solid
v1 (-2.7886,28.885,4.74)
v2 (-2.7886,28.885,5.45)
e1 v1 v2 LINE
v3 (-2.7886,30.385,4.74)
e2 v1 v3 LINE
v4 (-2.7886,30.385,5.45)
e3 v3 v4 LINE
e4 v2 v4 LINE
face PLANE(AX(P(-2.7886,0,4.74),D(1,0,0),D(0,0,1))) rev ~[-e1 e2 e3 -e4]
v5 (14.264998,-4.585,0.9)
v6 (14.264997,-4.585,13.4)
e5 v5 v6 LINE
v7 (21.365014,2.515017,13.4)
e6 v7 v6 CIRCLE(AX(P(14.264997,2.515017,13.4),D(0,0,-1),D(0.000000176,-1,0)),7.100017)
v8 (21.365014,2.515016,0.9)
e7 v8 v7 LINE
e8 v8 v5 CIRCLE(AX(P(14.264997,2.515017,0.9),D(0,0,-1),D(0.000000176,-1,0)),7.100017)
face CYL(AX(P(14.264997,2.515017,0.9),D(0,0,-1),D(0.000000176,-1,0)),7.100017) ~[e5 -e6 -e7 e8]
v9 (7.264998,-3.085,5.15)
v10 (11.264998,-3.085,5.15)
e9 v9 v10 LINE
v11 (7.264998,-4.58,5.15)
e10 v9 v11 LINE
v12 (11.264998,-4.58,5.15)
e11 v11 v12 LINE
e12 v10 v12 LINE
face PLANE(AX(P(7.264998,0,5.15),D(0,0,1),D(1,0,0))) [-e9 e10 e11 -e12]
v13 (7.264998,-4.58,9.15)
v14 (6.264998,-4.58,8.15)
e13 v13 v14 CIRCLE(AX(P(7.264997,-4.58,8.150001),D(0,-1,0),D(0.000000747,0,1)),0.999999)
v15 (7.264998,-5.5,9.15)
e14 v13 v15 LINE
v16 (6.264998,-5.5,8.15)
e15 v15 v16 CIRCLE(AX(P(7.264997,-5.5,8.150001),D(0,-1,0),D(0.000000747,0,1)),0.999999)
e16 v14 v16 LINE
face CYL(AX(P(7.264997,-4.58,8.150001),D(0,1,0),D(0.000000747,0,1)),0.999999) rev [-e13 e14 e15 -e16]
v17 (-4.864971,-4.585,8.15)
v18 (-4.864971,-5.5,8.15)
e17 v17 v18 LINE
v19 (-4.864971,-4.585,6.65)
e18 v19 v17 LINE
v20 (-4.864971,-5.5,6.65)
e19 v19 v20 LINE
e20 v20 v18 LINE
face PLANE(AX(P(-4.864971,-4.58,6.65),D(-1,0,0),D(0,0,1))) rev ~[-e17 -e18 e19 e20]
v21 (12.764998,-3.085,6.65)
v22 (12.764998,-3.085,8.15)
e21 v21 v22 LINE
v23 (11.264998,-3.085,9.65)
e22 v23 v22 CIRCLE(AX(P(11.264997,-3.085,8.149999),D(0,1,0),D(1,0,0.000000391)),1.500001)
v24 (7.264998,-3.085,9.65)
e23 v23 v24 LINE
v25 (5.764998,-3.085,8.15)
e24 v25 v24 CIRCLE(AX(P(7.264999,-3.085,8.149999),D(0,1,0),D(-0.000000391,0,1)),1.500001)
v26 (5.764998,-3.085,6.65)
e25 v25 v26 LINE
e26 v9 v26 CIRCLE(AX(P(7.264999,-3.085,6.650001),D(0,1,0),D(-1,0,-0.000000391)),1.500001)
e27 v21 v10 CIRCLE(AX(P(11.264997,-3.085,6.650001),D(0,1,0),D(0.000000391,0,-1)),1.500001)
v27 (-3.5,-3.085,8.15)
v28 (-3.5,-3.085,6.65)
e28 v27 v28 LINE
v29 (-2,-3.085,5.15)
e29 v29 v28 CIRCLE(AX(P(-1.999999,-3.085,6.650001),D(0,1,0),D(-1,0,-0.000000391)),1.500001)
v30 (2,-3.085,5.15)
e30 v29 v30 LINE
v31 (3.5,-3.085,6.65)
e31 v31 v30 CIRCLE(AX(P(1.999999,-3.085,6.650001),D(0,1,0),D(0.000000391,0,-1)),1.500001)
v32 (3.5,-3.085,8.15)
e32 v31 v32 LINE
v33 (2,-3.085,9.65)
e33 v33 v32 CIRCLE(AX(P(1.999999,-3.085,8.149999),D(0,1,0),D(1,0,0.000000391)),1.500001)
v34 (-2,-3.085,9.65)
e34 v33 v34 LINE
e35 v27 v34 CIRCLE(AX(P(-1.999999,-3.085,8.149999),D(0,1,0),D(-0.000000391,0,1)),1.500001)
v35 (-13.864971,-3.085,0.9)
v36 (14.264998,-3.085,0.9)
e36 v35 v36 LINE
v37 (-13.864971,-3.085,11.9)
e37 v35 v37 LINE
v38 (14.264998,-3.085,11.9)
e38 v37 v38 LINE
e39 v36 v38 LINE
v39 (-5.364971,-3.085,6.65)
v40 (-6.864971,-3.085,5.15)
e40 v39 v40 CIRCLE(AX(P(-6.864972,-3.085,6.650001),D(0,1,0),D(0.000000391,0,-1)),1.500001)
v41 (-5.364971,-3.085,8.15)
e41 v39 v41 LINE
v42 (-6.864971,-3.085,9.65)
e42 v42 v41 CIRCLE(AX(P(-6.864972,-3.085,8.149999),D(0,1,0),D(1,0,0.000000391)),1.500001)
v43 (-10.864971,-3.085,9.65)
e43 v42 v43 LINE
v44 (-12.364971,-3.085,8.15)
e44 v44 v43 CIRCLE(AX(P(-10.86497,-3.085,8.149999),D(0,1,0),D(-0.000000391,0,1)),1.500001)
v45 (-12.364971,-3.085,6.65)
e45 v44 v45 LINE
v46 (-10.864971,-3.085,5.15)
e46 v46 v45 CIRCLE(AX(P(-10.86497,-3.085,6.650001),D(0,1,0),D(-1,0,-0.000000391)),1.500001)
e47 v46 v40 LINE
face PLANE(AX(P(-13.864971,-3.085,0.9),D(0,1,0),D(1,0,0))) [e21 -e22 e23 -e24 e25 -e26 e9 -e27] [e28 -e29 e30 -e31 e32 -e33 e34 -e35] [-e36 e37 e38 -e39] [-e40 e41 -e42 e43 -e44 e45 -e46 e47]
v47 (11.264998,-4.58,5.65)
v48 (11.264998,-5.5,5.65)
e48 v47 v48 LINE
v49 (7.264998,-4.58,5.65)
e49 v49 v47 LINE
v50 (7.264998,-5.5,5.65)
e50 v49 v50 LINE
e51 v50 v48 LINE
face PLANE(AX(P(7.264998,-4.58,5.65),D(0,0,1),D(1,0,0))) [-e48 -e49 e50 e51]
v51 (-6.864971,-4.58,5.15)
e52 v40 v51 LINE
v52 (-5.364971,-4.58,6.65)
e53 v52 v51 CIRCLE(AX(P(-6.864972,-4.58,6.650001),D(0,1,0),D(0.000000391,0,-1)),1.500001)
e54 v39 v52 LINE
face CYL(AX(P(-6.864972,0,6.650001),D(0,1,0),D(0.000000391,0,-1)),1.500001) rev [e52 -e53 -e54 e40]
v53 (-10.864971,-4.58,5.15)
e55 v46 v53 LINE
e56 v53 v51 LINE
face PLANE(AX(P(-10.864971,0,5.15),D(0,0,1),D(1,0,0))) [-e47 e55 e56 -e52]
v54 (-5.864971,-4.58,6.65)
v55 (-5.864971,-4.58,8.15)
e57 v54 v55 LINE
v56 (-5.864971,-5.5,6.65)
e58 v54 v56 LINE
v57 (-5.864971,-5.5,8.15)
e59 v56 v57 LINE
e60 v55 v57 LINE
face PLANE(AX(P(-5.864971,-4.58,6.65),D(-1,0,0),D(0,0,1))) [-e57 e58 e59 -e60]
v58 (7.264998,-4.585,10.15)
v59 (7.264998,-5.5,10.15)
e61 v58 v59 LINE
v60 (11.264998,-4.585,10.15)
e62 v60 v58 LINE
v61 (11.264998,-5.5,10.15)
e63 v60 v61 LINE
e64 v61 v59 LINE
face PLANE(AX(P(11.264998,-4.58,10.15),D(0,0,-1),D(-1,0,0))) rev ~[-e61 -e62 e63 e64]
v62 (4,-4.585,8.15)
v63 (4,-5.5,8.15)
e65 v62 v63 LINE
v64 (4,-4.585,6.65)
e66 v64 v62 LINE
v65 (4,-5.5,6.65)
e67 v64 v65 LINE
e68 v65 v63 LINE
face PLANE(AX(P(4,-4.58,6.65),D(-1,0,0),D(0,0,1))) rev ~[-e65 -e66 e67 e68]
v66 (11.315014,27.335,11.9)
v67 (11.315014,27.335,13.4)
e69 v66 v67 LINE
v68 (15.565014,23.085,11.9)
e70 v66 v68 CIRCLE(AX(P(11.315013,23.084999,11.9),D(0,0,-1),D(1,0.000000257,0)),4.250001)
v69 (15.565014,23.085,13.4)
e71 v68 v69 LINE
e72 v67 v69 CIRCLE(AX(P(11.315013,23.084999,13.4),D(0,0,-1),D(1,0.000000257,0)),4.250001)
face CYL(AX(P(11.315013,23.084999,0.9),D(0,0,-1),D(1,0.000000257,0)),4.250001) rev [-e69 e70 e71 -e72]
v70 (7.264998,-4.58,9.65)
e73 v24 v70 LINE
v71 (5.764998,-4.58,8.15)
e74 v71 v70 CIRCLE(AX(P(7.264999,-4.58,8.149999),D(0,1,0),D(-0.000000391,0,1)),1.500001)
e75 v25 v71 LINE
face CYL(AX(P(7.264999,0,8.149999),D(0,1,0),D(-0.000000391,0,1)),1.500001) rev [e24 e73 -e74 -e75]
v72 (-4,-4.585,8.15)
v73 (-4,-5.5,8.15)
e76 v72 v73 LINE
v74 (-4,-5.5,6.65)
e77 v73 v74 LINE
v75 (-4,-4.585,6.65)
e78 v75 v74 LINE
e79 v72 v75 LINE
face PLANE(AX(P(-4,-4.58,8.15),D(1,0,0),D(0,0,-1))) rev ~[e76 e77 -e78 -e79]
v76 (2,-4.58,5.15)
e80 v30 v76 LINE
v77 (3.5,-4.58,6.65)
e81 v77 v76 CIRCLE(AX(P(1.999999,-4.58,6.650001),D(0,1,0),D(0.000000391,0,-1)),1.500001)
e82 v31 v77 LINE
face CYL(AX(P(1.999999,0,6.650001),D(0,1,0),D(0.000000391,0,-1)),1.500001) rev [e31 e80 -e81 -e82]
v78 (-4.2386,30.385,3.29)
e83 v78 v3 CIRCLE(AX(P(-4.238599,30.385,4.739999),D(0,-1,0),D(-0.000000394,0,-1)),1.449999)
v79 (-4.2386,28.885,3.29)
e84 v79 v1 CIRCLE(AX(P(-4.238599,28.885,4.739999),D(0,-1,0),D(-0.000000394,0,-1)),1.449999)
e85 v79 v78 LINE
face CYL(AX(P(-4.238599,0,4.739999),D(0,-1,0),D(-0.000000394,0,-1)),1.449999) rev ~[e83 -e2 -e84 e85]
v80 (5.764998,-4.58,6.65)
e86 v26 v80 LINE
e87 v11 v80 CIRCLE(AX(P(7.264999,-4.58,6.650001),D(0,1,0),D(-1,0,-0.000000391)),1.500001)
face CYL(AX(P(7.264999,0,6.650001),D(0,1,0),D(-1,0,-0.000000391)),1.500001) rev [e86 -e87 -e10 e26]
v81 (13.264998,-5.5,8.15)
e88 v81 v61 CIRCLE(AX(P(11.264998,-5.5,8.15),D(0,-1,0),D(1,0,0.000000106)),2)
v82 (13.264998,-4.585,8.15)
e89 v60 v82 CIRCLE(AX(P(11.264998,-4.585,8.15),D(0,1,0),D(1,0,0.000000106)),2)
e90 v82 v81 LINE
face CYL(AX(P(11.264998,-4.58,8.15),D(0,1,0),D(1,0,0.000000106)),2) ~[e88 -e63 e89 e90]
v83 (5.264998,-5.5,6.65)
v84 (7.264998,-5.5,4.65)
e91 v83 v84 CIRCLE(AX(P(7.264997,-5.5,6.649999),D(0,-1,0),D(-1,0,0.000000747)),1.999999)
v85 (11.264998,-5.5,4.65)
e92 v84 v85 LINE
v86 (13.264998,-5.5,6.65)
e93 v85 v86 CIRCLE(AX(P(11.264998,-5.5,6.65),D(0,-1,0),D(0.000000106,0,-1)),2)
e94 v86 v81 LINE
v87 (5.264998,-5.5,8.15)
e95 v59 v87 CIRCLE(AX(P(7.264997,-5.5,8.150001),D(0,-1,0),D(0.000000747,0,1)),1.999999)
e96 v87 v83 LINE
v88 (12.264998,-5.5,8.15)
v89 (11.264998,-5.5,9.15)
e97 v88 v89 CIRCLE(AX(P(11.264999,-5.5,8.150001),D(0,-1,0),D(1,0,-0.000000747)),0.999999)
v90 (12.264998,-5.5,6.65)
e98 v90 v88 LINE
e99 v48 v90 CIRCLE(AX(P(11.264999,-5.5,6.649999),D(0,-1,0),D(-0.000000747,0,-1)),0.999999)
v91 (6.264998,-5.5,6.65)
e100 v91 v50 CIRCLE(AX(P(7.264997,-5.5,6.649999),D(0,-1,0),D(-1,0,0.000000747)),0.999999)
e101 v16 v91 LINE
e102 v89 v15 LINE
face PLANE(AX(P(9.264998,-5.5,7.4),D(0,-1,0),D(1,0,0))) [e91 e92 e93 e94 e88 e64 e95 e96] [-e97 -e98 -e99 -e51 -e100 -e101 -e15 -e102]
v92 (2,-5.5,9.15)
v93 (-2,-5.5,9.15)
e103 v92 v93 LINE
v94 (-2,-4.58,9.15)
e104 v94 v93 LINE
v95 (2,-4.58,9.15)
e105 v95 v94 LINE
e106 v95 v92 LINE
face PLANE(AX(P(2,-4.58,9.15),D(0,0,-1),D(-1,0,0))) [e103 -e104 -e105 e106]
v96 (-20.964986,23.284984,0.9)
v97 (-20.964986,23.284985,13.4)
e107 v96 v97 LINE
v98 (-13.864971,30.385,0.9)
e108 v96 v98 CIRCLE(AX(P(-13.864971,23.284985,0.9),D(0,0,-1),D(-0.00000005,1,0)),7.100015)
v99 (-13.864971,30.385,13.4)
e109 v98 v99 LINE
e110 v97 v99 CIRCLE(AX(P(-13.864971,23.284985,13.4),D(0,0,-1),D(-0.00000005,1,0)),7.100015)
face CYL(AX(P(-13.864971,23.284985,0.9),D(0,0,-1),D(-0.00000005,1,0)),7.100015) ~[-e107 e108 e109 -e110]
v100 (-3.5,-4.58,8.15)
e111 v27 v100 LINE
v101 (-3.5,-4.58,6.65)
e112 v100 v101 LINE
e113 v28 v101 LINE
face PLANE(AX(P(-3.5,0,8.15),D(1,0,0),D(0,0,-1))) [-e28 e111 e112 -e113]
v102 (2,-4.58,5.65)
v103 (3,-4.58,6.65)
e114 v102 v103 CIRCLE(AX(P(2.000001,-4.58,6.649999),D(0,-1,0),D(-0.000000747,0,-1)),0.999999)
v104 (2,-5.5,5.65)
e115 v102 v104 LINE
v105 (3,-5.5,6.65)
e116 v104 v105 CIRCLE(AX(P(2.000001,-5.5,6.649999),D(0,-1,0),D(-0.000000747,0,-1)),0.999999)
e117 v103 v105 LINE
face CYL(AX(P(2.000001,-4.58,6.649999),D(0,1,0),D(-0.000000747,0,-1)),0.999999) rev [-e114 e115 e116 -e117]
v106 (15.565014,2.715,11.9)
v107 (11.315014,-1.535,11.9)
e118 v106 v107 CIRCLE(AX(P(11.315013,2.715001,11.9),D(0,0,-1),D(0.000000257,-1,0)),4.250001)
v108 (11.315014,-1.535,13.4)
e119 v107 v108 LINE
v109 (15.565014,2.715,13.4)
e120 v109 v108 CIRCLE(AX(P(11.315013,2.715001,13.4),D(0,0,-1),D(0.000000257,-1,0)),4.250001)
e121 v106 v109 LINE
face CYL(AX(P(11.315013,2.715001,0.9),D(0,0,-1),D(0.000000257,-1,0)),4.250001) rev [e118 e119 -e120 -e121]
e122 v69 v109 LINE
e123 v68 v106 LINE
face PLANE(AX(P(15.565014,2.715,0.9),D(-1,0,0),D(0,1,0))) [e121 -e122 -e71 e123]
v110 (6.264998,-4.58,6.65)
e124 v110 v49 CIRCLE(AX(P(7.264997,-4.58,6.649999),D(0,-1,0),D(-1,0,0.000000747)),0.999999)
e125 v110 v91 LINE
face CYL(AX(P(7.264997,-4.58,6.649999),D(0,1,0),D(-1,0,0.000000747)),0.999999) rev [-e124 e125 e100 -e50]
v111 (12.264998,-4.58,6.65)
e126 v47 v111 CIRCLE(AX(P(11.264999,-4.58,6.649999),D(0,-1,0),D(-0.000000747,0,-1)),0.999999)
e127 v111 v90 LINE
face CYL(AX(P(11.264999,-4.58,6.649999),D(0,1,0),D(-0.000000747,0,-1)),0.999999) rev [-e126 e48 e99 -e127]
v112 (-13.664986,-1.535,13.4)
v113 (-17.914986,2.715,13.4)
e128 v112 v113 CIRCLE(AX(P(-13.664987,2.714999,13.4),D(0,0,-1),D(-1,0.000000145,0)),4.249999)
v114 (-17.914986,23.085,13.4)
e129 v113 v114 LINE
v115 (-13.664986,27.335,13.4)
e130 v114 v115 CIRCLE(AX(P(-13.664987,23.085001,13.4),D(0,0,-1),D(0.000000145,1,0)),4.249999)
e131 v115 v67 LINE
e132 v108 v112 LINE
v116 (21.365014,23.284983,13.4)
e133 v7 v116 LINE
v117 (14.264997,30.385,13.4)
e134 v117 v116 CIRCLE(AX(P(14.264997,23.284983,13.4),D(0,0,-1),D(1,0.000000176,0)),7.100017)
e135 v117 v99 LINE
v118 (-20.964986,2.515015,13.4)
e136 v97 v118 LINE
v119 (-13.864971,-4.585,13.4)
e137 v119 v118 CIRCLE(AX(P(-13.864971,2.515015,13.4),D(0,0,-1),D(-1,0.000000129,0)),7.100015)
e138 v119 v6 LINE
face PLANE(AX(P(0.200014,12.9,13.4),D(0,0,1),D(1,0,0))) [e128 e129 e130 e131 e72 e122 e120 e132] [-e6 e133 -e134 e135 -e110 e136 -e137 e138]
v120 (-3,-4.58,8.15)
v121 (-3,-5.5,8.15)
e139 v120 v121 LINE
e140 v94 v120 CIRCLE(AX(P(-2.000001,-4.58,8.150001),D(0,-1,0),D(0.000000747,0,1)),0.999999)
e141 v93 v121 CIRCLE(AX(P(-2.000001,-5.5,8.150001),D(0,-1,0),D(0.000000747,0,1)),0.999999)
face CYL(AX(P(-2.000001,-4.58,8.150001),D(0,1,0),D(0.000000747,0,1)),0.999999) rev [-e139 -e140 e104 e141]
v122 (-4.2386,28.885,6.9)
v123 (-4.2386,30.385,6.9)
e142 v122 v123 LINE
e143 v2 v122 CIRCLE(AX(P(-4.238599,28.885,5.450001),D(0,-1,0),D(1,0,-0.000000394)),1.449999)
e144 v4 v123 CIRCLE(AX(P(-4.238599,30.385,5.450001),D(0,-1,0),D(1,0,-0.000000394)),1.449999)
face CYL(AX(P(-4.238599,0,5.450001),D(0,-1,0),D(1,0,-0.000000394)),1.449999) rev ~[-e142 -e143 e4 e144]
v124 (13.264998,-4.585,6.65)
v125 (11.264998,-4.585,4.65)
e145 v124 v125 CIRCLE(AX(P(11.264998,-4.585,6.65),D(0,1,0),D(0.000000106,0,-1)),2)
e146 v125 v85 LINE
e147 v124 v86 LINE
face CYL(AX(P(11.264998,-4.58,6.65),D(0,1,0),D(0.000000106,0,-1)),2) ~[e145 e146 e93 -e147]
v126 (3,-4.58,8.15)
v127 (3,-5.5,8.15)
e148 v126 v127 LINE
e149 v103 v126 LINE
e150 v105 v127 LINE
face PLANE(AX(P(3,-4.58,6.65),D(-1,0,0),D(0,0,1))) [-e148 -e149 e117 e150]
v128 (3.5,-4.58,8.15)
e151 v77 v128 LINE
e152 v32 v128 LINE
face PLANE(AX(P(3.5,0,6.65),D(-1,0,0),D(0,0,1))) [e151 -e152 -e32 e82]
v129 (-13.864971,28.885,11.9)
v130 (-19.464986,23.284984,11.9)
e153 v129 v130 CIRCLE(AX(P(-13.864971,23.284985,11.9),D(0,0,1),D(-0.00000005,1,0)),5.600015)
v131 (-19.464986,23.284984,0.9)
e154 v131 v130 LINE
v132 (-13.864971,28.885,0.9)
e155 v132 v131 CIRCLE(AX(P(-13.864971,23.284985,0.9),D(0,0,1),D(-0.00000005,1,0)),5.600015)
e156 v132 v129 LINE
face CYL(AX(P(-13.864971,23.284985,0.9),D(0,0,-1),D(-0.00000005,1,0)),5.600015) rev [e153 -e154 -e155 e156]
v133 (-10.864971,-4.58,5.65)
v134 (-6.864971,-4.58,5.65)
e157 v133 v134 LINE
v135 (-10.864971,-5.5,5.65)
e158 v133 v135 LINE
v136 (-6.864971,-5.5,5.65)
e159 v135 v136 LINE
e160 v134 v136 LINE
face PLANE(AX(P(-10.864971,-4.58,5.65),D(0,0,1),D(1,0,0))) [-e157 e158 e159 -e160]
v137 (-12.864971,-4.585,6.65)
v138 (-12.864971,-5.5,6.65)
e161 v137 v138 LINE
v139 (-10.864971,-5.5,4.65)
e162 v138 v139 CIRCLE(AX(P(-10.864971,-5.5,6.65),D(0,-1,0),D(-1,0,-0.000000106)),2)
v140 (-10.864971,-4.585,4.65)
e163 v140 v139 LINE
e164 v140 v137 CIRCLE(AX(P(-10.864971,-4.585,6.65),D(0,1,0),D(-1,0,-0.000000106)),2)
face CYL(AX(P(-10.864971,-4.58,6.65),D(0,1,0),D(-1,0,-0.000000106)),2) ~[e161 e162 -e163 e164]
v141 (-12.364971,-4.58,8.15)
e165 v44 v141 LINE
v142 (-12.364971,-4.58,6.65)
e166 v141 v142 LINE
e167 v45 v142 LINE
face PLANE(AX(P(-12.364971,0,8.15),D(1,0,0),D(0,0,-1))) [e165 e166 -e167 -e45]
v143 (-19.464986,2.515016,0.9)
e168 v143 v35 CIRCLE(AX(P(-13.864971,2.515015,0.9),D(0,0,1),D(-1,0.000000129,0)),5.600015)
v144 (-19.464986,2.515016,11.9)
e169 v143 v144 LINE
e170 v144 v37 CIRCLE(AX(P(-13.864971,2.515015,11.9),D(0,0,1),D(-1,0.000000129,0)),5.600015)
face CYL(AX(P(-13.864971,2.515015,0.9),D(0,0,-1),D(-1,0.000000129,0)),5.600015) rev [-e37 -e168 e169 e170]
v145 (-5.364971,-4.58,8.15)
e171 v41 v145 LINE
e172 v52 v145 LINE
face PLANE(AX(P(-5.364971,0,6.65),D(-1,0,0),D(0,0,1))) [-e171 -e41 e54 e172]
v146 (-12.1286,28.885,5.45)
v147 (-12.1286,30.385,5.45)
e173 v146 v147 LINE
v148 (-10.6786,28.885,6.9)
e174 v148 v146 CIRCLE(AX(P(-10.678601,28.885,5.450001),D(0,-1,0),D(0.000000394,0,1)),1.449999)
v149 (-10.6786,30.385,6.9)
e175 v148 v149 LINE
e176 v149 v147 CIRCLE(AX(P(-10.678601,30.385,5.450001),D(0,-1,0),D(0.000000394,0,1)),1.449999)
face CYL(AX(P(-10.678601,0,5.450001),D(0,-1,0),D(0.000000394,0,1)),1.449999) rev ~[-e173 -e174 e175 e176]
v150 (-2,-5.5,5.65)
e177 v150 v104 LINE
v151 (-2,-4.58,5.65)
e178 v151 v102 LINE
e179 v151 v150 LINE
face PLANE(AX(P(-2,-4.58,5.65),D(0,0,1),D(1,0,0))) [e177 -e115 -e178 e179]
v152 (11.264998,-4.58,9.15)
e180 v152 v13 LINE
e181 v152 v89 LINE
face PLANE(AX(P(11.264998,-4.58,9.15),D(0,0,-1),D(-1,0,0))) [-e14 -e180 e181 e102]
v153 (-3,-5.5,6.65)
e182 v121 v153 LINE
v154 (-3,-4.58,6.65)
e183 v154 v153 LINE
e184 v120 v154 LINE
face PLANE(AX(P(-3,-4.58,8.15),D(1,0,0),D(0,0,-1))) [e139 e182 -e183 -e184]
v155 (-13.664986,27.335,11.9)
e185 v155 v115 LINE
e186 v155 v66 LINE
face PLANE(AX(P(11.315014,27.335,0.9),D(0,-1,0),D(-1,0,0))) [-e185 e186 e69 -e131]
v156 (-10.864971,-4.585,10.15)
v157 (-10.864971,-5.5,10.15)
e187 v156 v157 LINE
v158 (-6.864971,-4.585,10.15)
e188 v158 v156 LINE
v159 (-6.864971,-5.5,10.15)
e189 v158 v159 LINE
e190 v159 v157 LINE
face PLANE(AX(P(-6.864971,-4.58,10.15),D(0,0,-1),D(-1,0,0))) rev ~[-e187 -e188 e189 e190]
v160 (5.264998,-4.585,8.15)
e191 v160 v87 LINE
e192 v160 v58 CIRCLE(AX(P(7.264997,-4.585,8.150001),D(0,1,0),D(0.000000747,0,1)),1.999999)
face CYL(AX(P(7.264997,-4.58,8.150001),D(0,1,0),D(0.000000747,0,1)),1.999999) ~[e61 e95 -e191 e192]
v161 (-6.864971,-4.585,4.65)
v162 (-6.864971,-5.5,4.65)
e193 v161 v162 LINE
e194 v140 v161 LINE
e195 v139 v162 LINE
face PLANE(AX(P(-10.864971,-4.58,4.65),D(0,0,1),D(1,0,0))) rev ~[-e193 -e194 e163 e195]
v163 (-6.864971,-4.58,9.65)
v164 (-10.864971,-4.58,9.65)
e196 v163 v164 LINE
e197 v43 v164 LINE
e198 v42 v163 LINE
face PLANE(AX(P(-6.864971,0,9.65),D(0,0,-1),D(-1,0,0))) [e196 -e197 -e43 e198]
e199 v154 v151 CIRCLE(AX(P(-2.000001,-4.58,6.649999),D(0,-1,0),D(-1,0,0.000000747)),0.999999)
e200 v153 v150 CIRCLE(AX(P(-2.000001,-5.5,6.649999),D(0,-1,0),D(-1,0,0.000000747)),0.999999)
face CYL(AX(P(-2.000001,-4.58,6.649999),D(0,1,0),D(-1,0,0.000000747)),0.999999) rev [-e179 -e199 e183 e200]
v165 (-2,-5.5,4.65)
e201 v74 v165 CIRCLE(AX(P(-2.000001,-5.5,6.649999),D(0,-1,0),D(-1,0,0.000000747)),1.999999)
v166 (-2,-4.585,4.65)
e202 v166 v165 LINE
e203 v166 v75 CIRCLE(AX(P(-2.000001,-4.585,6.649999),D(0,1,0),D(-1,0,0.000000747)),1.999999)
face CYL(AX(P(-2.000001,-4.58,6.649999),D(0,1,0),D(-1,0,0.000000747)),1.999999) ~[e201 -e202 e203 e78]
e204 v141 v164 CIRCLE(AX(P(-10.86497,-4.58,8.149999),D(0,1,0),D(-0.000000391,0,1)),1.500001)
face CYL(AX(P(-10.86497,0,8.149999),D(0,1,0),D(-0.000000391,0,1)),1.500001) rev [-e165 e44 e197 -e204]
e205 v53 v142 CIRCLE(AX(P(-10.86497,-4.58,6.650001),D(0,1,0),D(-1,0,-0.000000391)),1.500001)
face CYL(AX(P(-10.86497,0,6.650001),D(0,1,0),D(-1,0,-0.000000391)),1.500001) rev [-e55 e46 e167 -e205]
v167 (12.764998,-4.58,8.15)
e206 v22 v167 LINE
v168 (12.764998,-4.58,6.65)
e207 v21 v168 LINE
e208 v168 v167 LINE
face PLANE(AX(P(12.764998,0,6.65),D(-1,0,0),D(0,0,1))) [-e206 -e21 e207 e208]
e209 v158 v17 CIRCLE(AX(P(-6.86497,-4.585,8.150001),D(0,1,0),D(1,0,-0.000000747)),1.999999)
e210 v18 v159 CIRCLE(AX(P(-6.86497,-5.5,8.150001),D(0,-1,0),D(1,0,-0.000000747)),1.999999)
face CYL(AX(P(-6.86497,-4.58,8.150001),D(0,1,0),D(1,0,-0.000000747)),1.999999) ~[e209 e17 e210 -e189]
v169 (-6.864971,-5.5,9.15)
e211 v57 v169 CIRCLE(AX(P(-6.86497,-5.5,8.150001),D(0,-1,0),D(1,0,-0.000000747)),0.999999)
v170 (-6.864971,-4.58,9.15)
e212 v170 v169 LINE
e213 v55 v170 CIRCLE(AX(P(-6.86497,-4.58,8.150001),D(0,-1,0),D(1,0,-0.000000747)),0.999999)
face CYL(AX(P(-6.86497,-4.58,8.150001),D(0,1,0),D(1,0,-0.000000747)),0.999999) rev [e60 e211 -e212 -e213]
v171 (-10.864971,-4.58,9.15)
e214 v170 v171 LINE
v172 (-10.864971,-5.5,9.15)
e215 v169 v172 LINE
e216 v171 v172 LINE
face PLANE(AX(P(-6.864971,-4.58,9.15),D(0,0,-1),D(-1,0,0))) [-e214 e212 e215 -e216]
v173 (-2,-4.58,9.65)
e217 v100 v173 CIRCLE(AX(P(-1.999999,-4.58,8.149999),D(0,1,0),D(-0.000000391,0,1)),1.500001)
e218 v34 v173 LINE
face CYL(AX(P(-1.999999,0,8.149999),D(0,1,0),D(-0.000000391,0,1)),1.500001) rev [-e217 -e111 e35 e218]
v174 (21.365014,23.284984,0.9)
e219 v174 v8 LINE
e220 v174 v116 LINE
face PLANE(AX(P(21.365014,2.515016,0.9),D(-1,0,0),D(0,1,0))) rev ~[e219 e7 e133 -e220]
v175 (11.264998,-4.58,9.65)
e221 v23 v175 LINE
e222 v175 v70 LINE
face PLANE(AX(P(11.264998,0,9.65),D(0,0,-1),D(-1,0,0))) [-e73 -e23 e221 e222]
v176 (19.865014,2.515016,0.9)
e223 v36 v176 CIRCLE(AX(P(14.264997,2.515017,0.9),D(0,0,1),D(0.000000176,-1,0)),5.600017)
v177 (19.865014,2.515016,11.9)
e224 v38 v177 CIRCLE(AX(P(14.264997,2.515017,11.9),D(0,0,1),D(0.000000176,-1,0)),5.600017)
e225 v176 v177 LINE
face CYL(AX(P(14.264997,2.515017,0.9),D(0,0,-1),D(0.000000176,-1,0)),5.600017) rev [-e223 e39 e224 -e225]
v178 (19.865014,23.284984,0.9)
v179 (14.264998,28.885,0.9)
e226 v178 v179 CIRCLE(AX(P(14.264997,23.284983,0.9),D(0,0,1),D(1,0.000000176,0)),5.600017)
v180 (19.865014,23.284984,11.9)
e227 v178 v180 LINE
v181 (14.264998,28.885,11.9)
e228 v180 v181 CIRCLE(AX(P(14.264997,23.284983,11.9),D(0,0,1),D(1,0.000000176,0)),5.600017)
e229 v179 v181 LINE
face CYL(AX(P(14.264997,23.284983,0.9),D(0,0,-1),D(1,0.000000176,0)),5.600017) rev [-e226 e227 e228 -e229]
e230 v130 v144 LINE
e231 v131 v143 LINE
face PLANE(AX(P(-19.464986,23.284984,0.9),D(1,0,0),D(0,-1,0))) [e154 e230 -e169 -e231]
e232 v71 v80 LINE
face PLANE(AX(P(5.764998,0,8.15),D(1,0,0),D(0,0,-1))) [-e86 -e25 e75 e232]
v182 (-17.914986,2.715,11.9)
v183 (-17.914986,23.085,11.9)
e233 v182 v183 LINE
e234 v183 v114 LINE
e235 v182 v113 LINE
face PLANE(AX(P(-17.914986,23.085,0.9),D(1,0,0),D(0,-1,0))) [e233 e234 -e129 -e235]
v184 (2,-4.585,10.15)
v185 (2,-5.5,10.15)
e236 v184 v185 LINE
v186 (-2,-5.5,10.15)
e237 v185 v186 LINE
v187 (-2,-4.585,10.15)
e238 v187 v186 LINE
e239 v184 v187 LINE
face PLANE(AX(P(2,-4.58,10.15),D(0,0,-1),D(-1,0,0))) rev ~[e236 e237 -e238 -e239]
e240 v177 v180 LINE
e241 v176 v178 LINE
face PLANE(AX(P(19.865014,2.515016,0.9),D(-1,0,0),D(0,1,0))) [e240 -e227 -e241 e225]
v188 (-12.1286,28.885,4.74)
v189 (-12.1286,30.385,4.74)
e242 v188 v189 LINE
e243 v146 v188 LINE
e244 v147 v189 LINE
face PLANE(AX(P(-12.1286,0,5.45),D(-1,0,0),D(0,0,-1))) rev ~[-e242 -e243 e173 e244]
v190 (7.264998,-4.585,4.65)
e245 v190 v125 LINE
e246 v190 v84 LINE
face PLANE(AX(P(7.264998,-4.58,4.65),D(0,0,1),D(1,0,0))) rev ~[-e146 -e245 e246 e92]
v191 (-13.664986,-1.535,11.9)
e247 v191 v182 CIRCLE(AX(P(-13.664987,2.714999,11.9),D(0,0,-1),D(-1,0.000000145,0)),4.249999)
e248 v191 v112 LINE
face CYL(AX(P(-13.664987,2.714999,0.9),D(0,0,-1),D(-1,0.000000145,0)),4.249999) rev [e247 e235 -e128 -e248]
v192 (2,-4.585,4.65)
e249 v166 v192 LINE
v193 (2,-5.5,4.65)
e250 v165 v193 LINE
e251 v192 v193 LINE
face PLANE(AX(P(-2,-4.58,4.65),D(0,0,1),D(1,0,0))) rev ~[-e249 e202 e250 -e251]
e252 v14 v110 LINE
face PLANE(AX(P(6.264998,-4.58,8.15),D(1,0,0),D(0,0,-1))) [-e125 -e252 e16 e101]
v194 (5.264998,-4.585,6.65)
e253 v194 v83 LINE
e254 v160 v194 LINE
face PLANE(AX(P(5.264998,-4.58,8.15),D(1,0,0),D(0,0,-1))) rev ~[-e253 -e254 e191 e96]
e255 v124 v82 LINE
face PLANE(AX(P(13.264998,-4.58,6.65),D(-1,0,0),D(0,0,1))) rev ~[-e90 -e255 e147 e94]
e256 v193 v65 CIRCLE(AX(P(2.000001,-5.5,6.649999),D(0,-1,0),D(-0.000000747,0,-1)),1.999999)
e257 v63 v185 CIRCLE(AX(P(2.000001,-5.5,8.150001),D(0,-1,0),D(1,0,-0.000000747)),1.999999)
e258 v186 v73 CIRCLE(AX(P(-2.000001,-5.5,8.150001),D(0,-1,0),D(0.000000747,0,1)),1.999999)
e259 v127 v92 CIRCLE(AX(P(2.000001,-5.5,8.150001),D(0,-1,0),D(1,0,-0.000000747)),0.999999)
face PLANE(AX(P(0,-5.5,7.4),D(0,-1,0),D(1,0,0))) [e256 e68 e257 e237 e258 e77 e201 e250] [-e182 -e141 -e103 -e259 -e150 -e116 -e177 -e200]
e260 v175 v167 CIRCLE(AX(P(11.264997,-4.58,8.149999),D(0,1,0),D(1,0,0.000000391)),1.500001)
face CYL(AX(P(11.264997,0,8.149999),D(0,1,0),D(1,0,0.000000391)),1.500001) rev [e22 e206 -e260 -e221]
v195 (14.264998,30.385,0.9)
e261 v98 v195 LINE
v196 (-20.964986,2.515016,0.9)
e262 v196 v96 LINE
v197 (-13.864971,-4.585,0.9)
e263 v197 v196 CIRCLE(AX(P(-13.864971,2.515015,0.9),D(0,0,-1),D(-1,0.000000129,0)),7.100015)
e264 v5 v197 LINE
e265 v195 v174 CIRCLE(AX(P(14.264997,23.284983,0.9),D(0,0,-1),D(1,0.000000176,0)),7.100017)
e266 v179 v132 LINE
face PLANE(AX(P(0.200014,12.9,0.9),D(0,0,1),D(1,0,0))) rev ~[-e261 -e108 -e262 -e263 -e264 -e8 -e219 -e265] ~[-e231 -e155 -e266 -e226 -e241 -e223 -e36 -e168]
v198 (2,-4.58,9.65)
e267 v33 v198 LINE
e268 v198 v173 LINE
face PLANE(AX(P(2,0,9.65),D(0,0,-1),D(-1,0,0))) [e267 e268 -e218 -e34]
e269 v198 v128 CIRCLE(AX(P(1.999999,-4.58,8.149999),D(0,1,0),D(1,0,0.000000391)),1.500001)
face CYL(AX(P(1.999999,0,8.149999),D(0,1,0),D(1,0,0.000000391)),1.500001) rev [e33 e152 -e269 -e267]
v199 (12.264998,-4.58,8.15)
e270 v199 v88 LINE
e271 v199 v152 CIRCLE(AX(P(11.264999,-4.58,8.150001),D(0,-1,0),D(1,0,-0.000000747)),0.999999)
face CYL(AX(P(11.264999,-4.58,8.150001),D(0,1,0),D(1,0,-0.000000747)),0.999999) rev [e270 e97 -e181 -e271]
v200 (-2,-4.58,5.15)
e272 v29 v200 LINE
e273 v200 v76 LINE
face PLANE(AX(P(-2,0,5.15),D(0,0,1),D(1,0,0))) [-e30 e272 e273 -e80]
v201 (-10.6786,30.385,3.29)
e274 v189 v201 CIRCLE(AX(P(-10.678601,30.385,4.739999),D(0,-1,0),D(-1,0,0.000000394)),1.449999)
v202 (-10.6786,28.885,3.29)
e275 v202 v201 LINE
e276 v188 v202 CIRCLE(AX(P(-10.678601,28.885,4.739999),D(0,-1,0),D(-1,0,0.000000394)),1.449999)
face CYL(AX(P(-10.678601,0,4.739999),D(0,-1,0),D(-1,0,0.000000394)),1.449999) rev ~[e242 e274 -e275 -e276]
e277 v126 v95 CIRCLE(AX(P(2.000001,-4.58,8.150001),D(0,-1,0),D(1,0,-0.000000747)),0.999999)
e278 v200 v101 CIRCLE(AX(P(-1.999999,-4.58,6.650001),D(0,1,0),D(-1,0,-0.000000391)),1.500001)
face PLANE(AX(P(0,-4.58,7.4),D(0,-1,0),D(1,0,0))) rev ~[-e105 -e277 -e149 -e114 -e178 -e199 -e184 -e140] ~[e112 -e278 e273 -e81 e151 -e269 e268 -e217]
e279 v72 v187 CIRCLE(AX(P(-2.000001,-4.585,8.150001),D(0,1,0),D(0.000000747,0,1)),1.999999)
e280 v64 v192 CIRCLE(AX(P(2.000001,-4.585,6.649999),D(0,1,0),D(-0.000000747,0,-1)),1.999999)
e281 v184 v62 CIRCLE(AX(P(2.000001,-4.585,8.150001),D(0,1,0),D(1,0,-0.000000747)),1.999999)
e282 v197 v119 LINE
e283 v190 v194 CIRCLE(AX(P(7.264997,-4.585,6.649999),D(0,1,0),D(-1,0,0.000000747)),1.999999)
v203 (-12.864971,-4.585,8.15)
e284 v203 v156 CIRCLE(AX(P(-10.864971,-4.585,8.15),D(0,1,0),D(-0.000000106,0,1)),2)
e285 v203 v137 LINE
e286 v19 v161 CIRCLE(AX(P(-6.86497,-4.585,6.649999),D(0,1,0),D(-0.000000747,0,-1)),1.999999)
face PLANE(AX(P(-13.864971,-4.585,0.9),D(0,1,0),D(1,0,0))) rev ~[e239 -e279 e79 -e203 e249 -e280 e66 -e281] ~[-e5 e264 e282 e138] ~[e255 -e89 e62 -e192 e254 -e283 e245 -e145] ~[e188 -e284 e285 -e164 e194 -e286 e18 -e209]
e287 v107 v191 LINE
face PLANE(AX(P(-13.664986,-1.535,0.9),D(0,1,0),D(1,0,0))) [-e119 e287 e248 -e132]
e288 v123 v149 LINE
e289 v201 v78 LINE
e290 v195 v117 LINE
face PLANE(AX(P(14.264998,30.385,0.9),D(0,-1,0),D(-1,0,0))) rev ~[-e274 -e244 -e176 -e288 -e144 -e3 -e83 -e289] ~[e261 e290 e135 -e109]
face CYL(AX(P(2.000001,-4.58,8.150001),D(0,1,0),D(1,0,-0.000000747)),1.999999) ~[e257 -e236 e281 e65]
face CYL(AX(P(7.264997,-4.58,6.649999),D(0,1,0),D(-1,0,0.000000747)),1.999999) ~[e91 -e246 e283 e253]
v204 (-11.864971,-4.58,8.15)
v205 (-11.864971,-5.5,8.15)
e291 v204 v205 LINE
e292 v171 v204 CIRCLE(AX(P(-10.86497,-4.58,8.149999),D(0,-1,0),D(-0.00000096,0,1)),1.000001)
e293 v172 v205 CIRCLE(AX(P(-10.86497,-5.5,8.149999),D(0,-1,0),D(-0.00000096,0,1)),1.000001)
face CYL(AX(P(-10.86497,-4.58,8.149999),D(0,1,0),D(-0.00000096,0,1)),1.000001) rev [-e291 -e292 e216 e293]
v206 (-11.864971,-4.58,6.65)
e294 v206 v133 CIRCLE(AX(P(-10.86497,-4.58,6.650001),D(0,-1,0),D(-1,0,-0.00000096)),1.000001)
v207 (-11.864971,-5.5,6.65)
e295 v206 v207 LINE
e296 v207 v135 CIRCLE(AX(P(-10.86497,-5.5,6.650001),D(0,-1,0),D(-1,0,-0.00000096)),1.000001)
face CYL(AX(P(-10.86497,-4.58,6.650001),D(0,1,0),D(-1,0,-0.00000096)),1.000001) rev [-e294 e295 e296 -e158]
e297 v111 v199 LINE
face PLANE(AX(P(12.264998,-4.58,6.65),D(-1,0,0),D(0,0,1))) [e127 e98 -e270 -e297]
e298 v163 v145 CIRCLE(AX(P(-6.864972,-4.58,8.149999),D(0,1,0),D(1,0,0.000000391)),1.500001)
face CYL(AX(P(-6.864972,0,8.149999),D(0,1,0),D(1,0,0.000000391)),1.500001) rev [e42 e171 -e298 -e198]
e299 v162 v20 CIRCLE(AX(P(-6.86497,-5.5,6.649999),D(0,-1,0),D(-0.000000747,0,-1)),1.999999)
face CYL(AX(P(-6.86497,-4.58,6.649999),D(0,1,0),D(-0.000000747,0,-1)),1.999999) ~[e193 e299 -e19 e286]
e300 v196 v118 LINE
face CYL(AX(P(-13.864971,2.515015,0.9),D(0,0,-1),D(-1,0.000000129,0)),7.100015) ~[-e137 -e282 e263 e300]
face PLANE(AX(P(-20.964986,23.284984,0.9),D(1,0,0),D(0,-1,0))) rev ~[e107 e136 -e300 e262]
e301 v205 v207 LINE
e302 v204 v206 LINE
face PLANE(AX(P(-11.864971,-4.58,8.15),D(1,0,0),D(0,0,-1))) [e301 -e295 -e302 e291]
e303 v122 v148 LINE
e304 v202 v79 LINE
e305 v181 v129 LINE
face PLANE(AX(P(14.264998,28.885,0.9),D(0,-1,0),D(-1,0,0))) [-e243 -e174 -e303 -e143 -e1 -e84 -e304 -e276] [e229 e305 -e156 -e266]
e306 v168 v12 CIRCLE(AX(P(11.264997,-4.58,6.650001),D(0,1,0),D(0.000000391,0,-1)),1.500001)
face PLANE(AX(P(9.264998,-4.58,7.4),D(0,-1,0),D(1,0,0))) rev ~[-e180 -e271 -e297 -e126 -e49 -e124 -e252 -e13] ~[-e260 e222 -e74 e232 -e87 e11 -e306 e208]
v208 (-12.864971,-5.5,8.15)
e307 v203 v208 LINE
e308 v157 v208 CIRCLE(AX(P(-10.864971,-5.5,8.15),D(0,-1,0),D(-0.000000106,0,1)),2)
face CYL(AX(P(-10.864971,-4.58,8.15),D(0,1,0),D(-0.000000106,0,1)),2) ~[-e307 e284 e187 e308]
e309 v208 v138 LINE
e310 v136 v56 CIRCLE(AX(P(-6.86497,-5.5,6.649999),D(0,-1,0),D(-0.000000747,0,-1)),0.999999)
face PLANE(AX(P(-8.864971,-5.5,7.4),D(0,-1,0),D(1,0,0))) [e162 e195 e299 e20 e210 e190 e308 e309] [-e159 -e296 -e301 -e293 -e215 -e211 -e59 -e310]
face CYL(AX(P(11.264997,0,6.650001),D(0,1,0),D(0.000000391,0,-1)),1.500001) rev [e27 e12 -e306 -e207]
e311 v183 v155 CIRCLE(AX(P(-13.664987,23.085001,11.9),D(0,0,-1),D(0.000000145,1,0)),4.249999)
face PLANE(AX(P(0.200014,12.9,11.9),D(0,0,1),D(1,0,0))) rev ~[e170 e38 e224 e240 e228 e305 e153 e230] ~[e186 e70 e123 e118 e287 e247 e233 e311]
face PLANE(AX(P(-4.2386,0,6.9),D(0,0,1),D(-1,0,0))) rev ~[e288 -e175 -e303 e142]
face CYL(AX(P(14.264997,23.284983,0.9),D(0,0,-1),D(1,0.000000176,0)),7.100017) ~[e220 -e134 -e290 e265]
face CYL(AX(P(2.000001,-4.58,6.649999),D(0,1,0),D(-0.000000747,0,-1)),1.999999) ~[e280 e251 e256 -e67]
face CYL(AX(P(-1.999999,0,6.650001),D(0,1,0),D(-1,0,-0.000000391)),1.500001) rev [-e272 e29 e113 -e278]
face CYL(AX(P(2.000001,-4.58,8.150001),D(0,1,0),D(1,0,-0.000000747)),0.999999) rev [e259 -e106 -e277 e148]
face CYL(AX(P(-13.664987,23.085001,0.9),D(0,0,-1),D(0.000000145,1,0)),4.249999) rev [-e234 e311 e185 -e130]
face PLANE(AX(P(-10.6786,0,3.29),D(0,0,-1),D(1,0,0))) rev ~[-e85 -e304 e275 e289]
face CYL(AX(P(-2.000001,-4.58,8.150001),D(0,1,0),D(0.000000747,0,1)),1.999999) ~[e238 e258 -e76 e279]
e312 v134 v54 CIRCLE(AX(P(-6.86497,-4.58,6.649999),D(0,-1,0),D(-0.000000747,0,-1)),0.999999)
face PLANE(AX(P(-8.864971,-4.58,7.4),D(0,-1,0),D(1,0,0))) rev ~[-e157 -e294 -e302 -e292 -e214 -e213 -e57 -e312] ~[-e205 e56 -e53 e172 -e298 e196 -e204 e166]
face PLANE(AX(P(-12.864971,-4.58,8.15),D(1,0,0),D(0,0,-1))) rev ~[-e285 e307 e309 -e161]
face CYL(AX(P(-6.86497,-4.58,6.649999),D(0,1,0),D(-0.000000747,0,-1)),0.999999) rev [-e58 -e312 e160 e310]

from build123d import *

# Parameters (mm, degrees)
PAD002_DEPTH    = 11
THICKNESS001_T  = 1.5
POCKET006_DEPTH = 20
POCKET007_DEPTH = 32
POCKET009_DEPTH = 5
POCKET014_DEPTH = 5
PAD012_START    = 4.58
PAD012_DEPTH    = 0.92


with BuildPart() as part:
    # Sketch012 → Pad002 (new body)
    with BuildSketch(Plane.XY):
        with BuildLine():
            Line((-19.464986, 23.284984), (-19.464986, 2.515016))
            ThreePointArc((-19.464986, 2.515016), (-17.82478, -1.444793), (-13.864971, -3.085))
            Line((-13.864971, -3.085), (14.264998, -3.085))
            ThreePointArc((14.264998, -3.085), (18.224807, -1.444793), (19.865014, 2.515016))
            Line((19.865014, 2.515016), (19.865014, 23.284984))
            ThreePointArc((19.865014, 23.284984), (18.224807, 27.244793), (14.264998, 28.885))
            Line((14.264998, 28.885), (-13.864971, 28.885))
            ThreePointArc((-13.864971, 28.885), (-17.82478, 27.244793), (-19.464986, 23.284984))
        make_face()
    extrude(amount=PAD002_DEPTH)

    # Thickness001
    thickness001_openings = [part.faces().sort_by_distance(p)[0] for p in [
        (0.200014, 12.9, 0),
    ]]
    offset(amount=THICKNESS001_T, openings=thickness001_openings, kind=Kind.INTERSECTION)

    # Sketch013 → Pocket006 (cut)
    with BuildSketch(Plane.XY):
        with BuildLine():
            Line((-13.664986, -1.535), (11.315014, -1.535))
            ThreePointArc((11.315014, -1.535), (14.320217, -0.290204), (15.565014, 2.715))
            Line((15.565014, 2.715), (15.565014, 23.085))
            ThreePointArc((15.565014, 23.085), (14.320217, 26.090204), (11.315014, 27.335))
            Line((11.315014, 27.335), (-13.664986, 27.335))
            ThreePointArc((-13.664986, 27.335), (-16.67019, 26.090204), (-17.914986, 23.085))
            Line((-17.914986, 23.085), (-17.914986, 2.715))
            ThreePointArc((-17.914986, 2.715), (-16.67019, -0.290204), (-13.664986, -1.535))
        make_face()
    extrude(amount=POCKET006_DEPTH, mode=Mode.SUBTRACT)

    # Sketch018 → Pocket007 (cut)
    with BuildSketch(Plane.XZ):
        with BuildLine():
            Line((-10.6786, 2.39), (-4.2386, 2.39))
            ThreePointArc((-4.2386, 2.39), (-3.213295, 2.814695), (-2.7886, 3.84))
            Line((-2.7886, 3.84), (-2.7886, 4.55))
            ThreePointArc((-2.7886, 4.55), (-3.213295, 5.575305), (-4.2386, 6))
            Line((-4.2386, 6), (-10.6786, 6))
            ThreePointArc((-10.6786, 6), (-11.703905, 5.575305), (-12.1286, 4.55))
            Line((-12.1286, 4.55), (-12.1286, 3.84))
            ThreePointArc((-12.1286, 3.84), (-11.703905, 2.814695), (-10.6786, 2.39))
        make_face()
    extrude(amount=-POCKET007_DEPTH, mode=Mode.SUBTRACT)

    # Sketch022 → Pocket009 (cut)
    with BuildSketch(Plane.XZ):
        with BuildLine():
            Line((-11.864971, 7.25), (-11.864971, 5.75))
            ThreePointArc((-11.864971, 5.75), (-11.572077, 5.042893), (-10.864971, 4.75))
            Line((-10.864971, 4.75), (-6.864971, 4.75))
            ThreePointArc((-6.864971, 4.75), (-6.157864, 5.042893), (-5.864971, 5.75))
            Line((-5.864971, 5.75), (-5.864971, 7.25))
            ThreePointArc((-5.864971, 7.25), (-6.157864, 7.957107), (-6.864971, 8.25))
            Line((-6.864971, 8.25), (-10.864971, 8.25))
            ThreePointArc((-10.864971, 8.25), (-11.572077, 7.957107), (-11.864971, 7.25))
        make_face()
        with BuildLine():
            Line((-3, 7.25), (-3, 5.75))
            ThreePointArc((-3, 5.75), (-2.707107, 5.042893), (-2, 4.75))
            Line((-2, 4.75), (2, 4.75))
            ThreePointArc((2, 4.75), (2.707107, 5.042893), (3, 5.75))
            Line((3, 5.75), (3, 7.25))
            ThreePointArc((3, 7.25), (2.707107, 7.957107), (2, 8.25))
            Line((2, 8.25), (-2, 8.25))
            ThreePointArc((-2, 8.25), (-2.707107, 7.957107), (-3, 7.25))
        make_face()
        with BuildLine():
            Line((6.264998, 7.25), (6.264998, 5.75))
            ThreePointArc((6.264998, 5.75), (6.557891, 5.042893), (7.264998, 4.75))
            Line((7.264998, 4.75), (11.264998, 4.75))
            ThreePointArc((11.264998, 4.75), (11.972105, 5.042893), (12.264998, 5.75))
            Line((12.264998, 5.75), (12.264998, 7.25))
            ThreePointArc((12.264998, 7.25), (11.972105, 7.957107), (11.264998, 8.25))
            Line((11.264998, 8.25), (7.264998, 8.25))
            ThreePointArc((7.264998, 8.25), (6.557891, 7.957107), (6.264998, 7.25))
        make_face()
    extrude(amount=POCKET009_DEPTH, mode=Mode.SUBTRACT)

    # Sketch030 → Pocket014 (cut)
    with BuildSketch(Plane.XZ):
        with BuildLine():
            Line((11.264998, 8.75), (7.264998, 8.75))
            ThreePointArc((7.264998, 8.75), (6.204338, 8.31066), (5.764998, 7.25))
            Line((5.764998, 7.25), (5.764998, 5.75))
            ThreePointArc((5.764998, 5.75), (6.204338, 4.68934), (7.264998, 4.25))
            Line((7.264998, 4.25), (11.264998, 4.25))
            ThreePointArc((11.264998, 4.25), (12.325658, 4.68934), (12.764998, 5.75))
            Line((12.764998, 5.75), (12.764998, 7.25))
            ThreePointArc((12.764998, 7.25), (12.325658, 8.31066), (11.264998, 8.75))
        make_face()
        with BuildLine():
            Line((-12.364971, 7.25), (-12.364971, 5.75))
            ThreePointArc((-12.364971, 5.75), (-11.925631, 4.68934), (-10.864971, 4.25))
            Line((-10.864971, 4.25), (-6.864971, 4.25))
            ThreePointArc((-6.864971, 4.25), (-5.804311, 4.68934), (-5.364971, 5.75))
            Line((-5.364971, 5.75), (-5.364971, 7.25))
            ThreePointArc((-5.364971, 7.25), (-5.804311, 8.31066), (-6.864971, 8.75))
            Line((-6.864971, 8.75), (-10.864971, 8.75))
            ThreePointArc((-10.864971, 8.75), (-11.925631, 8.31066), (-12.364971, 7.25))
        make_face()
        with BuildLine():
            Line((-3.5, 7.25), (-3.5, 5.75))
            ThreePointArc((-3.5, 5.75), (-3.06066, 4.68934), (-2, 4.25))
            Line((-2, 4.25), (2, 4.25))
            ThreePointArc((2, 4.25), (3.06066, 4.68934), (3.5, 5.75))
            Line((3.5, 5.75), (3.5, 7.25))
            ThreePointArc((3.5, 7.25), (3.06066, 8.31066), (2, 8.75))
            Line((2, 8.75), (-2, 8.75))
            ThreePointArc((-2, 8.75), (-3.06066, 8.31066), (-3.5, 7.25))
        make_face()
    extrude(amount=POCKET014_DEPTH, mode=Mode.SUBTRACT)

    # Sketch031 → Pad012 (join)
    with BuildSketch(Plane.XZ.offset(PAD012_START)):
        with BuildLine():
            Line((5.264998, 7.25), (5.264998, 5.75))
            ThreePointArc((5.264998, 5.75), (5.850784, 4.335786), (7.264998, 3.75))
            Line((7.264998, 3.75), (11.264998, 3.75))
            ThreePointArc((11.264998, 3.75), (12.679211, 4.335786), (13.264998, 5.75))
            Line((13.264998, 5.75), (13.264998, 7.25))
            ThreePointArc((13.264998, 7.25), (12.679211, 8.664214), (11.264998, 9.25))
            Line((11.264998, 9.25), (7.264998, 9.25))
            ThreePointArc((7.264998, 9.25), (5.850784, 8.664214), (5.264998, 7.25))
        make_face()
        with BuildLine():
            Line((6.264998, 7.25), (6.264998, 5.75))
            ThreePointArc((6.264998, 5.75), (6.557891, 5.042893), (7.264998, 4.75))
            Line((7.264998, 4.75), (11.264998, 4.75))
            ThreePointArc((11.264998, 4.75), (11.972105, 5.042893), (12.264998, 5.75))
            Line((12.264998, 5.75), (12.264998, 7.25))
            ThreePointArc((12.264998, 7.25), (11.972105, 7.957107), (11.264998, 8.25))
            Line((11.264998, 8.25), (7.264998, 8.25))
            ThreePointArc((7.264998, 8.25), (6.557891, 7.957107), (6.264998, 7.25))
        make_face(mode=Mode.SUBTRACT)
        with BuildLine():
            Line((-12.864971, 7.25), (-12.864971, 5.75))
            ThreePointArc((-12.864971, 5.75), (-12.279184, 4.335786), (-10.864971, 3.75))
            Line((-10.864971, 3.75), (-6.864971, 3.75))
            ThreePointArc((-6.864971, 3.75), (-5.450757, 4.335786), (-4.864971, 5.75))
            Line((-4.864971, 5.75), (-4.864971, 7.25))
            ThreePointArc((-4.864971, 7.25), (-5.450757, 8.664214), (-6.864971, 9.25))
            Line((-6.864971, 9.25), (-10.864971, 9.25))
            ThreePointArc((-10.864971, 9.25), (-12.279184, 8.664214), (-12.864971, 7.25))
        make_face()
        with BuildLine():
            Line((-11.864971, 7.25), (-11.864971, 5.75))
            ThreePointArc((-11.864971, 5.75), (-11.572077, 5.042893), (-10.864971, 4.75))
            Line((-10.864971, 4.75), (-6.864971, 4.75))
            ThreePointArc((-6.864971, 4.75), (-6.157864, 5.042893), (-5.864971, 5.75))
            Line((-5.864971, 5.75), (-5.864971, 7.25))
            ThreePointArc((-5.864971, 7.25), (-6.157864, 7.957107), (-6.864971, 8.25))
            Line((-6.864971, 8.25), (-10.864971, 8.25))
            ThreePointArc((-10.864971, 8.25), (-11.572077, 7.957107), (-11.864971, 7.25))
        make_face(mode=Mode.SUBTRACT)
        with BuildLine():
            Line((-2, 3.75), (2, 3.75))
            ThreePointArc((2, 3.75), (3.414214, 4.335786), (4, 5.75))
            Line((4, 5.75), (4, 7.25))
            ThreePointArc((4, 7.25), (3.414214, 8.664214), (2, 9.25))
            Line((2, 9.25), (-2, 9.25))
            ThreePointArc((-2, 9.25), (-3.414214, 8.664214), (-4, 7.25))
            Line((-4, 7.25), (-4, 5.75))
            ThreePointArc((-4, 5.75), (-3.414214, 4.335786), (-2, 3.75))
        make_face()
        with BuildLine():
            Line((-3, 7.25), (-3, 5.75))
            ThreePointArc((-3, 5.75), (-2.707107, 5.042893), (-2, 4.75))
            Line((-2, 4.75), (2, 4.75))
            ThreePointArc((2, 4.75), (2.707107, 5.042893), (3, 5.75))
            Line((3, 5.75), (3, 7.25))
            ThreePointArc((3, 7.25), (2.707107, 7.957107), (2, 8.25))
            Line((2, 8.25), (-2, 8.25))
            ThreePointArc((-2, 8.25), (-2.707107, 7.957107), (-3, 7.25))
        make_face(mode=Mode.SUBTRACT)
    extrude(amount=PAD012_DEPTH)


with BuildPart() as part_1:
    # Body002 placement: moved
    add(part.part.moved(Location((0, 0, 0.9))))


solid = part_1.part
